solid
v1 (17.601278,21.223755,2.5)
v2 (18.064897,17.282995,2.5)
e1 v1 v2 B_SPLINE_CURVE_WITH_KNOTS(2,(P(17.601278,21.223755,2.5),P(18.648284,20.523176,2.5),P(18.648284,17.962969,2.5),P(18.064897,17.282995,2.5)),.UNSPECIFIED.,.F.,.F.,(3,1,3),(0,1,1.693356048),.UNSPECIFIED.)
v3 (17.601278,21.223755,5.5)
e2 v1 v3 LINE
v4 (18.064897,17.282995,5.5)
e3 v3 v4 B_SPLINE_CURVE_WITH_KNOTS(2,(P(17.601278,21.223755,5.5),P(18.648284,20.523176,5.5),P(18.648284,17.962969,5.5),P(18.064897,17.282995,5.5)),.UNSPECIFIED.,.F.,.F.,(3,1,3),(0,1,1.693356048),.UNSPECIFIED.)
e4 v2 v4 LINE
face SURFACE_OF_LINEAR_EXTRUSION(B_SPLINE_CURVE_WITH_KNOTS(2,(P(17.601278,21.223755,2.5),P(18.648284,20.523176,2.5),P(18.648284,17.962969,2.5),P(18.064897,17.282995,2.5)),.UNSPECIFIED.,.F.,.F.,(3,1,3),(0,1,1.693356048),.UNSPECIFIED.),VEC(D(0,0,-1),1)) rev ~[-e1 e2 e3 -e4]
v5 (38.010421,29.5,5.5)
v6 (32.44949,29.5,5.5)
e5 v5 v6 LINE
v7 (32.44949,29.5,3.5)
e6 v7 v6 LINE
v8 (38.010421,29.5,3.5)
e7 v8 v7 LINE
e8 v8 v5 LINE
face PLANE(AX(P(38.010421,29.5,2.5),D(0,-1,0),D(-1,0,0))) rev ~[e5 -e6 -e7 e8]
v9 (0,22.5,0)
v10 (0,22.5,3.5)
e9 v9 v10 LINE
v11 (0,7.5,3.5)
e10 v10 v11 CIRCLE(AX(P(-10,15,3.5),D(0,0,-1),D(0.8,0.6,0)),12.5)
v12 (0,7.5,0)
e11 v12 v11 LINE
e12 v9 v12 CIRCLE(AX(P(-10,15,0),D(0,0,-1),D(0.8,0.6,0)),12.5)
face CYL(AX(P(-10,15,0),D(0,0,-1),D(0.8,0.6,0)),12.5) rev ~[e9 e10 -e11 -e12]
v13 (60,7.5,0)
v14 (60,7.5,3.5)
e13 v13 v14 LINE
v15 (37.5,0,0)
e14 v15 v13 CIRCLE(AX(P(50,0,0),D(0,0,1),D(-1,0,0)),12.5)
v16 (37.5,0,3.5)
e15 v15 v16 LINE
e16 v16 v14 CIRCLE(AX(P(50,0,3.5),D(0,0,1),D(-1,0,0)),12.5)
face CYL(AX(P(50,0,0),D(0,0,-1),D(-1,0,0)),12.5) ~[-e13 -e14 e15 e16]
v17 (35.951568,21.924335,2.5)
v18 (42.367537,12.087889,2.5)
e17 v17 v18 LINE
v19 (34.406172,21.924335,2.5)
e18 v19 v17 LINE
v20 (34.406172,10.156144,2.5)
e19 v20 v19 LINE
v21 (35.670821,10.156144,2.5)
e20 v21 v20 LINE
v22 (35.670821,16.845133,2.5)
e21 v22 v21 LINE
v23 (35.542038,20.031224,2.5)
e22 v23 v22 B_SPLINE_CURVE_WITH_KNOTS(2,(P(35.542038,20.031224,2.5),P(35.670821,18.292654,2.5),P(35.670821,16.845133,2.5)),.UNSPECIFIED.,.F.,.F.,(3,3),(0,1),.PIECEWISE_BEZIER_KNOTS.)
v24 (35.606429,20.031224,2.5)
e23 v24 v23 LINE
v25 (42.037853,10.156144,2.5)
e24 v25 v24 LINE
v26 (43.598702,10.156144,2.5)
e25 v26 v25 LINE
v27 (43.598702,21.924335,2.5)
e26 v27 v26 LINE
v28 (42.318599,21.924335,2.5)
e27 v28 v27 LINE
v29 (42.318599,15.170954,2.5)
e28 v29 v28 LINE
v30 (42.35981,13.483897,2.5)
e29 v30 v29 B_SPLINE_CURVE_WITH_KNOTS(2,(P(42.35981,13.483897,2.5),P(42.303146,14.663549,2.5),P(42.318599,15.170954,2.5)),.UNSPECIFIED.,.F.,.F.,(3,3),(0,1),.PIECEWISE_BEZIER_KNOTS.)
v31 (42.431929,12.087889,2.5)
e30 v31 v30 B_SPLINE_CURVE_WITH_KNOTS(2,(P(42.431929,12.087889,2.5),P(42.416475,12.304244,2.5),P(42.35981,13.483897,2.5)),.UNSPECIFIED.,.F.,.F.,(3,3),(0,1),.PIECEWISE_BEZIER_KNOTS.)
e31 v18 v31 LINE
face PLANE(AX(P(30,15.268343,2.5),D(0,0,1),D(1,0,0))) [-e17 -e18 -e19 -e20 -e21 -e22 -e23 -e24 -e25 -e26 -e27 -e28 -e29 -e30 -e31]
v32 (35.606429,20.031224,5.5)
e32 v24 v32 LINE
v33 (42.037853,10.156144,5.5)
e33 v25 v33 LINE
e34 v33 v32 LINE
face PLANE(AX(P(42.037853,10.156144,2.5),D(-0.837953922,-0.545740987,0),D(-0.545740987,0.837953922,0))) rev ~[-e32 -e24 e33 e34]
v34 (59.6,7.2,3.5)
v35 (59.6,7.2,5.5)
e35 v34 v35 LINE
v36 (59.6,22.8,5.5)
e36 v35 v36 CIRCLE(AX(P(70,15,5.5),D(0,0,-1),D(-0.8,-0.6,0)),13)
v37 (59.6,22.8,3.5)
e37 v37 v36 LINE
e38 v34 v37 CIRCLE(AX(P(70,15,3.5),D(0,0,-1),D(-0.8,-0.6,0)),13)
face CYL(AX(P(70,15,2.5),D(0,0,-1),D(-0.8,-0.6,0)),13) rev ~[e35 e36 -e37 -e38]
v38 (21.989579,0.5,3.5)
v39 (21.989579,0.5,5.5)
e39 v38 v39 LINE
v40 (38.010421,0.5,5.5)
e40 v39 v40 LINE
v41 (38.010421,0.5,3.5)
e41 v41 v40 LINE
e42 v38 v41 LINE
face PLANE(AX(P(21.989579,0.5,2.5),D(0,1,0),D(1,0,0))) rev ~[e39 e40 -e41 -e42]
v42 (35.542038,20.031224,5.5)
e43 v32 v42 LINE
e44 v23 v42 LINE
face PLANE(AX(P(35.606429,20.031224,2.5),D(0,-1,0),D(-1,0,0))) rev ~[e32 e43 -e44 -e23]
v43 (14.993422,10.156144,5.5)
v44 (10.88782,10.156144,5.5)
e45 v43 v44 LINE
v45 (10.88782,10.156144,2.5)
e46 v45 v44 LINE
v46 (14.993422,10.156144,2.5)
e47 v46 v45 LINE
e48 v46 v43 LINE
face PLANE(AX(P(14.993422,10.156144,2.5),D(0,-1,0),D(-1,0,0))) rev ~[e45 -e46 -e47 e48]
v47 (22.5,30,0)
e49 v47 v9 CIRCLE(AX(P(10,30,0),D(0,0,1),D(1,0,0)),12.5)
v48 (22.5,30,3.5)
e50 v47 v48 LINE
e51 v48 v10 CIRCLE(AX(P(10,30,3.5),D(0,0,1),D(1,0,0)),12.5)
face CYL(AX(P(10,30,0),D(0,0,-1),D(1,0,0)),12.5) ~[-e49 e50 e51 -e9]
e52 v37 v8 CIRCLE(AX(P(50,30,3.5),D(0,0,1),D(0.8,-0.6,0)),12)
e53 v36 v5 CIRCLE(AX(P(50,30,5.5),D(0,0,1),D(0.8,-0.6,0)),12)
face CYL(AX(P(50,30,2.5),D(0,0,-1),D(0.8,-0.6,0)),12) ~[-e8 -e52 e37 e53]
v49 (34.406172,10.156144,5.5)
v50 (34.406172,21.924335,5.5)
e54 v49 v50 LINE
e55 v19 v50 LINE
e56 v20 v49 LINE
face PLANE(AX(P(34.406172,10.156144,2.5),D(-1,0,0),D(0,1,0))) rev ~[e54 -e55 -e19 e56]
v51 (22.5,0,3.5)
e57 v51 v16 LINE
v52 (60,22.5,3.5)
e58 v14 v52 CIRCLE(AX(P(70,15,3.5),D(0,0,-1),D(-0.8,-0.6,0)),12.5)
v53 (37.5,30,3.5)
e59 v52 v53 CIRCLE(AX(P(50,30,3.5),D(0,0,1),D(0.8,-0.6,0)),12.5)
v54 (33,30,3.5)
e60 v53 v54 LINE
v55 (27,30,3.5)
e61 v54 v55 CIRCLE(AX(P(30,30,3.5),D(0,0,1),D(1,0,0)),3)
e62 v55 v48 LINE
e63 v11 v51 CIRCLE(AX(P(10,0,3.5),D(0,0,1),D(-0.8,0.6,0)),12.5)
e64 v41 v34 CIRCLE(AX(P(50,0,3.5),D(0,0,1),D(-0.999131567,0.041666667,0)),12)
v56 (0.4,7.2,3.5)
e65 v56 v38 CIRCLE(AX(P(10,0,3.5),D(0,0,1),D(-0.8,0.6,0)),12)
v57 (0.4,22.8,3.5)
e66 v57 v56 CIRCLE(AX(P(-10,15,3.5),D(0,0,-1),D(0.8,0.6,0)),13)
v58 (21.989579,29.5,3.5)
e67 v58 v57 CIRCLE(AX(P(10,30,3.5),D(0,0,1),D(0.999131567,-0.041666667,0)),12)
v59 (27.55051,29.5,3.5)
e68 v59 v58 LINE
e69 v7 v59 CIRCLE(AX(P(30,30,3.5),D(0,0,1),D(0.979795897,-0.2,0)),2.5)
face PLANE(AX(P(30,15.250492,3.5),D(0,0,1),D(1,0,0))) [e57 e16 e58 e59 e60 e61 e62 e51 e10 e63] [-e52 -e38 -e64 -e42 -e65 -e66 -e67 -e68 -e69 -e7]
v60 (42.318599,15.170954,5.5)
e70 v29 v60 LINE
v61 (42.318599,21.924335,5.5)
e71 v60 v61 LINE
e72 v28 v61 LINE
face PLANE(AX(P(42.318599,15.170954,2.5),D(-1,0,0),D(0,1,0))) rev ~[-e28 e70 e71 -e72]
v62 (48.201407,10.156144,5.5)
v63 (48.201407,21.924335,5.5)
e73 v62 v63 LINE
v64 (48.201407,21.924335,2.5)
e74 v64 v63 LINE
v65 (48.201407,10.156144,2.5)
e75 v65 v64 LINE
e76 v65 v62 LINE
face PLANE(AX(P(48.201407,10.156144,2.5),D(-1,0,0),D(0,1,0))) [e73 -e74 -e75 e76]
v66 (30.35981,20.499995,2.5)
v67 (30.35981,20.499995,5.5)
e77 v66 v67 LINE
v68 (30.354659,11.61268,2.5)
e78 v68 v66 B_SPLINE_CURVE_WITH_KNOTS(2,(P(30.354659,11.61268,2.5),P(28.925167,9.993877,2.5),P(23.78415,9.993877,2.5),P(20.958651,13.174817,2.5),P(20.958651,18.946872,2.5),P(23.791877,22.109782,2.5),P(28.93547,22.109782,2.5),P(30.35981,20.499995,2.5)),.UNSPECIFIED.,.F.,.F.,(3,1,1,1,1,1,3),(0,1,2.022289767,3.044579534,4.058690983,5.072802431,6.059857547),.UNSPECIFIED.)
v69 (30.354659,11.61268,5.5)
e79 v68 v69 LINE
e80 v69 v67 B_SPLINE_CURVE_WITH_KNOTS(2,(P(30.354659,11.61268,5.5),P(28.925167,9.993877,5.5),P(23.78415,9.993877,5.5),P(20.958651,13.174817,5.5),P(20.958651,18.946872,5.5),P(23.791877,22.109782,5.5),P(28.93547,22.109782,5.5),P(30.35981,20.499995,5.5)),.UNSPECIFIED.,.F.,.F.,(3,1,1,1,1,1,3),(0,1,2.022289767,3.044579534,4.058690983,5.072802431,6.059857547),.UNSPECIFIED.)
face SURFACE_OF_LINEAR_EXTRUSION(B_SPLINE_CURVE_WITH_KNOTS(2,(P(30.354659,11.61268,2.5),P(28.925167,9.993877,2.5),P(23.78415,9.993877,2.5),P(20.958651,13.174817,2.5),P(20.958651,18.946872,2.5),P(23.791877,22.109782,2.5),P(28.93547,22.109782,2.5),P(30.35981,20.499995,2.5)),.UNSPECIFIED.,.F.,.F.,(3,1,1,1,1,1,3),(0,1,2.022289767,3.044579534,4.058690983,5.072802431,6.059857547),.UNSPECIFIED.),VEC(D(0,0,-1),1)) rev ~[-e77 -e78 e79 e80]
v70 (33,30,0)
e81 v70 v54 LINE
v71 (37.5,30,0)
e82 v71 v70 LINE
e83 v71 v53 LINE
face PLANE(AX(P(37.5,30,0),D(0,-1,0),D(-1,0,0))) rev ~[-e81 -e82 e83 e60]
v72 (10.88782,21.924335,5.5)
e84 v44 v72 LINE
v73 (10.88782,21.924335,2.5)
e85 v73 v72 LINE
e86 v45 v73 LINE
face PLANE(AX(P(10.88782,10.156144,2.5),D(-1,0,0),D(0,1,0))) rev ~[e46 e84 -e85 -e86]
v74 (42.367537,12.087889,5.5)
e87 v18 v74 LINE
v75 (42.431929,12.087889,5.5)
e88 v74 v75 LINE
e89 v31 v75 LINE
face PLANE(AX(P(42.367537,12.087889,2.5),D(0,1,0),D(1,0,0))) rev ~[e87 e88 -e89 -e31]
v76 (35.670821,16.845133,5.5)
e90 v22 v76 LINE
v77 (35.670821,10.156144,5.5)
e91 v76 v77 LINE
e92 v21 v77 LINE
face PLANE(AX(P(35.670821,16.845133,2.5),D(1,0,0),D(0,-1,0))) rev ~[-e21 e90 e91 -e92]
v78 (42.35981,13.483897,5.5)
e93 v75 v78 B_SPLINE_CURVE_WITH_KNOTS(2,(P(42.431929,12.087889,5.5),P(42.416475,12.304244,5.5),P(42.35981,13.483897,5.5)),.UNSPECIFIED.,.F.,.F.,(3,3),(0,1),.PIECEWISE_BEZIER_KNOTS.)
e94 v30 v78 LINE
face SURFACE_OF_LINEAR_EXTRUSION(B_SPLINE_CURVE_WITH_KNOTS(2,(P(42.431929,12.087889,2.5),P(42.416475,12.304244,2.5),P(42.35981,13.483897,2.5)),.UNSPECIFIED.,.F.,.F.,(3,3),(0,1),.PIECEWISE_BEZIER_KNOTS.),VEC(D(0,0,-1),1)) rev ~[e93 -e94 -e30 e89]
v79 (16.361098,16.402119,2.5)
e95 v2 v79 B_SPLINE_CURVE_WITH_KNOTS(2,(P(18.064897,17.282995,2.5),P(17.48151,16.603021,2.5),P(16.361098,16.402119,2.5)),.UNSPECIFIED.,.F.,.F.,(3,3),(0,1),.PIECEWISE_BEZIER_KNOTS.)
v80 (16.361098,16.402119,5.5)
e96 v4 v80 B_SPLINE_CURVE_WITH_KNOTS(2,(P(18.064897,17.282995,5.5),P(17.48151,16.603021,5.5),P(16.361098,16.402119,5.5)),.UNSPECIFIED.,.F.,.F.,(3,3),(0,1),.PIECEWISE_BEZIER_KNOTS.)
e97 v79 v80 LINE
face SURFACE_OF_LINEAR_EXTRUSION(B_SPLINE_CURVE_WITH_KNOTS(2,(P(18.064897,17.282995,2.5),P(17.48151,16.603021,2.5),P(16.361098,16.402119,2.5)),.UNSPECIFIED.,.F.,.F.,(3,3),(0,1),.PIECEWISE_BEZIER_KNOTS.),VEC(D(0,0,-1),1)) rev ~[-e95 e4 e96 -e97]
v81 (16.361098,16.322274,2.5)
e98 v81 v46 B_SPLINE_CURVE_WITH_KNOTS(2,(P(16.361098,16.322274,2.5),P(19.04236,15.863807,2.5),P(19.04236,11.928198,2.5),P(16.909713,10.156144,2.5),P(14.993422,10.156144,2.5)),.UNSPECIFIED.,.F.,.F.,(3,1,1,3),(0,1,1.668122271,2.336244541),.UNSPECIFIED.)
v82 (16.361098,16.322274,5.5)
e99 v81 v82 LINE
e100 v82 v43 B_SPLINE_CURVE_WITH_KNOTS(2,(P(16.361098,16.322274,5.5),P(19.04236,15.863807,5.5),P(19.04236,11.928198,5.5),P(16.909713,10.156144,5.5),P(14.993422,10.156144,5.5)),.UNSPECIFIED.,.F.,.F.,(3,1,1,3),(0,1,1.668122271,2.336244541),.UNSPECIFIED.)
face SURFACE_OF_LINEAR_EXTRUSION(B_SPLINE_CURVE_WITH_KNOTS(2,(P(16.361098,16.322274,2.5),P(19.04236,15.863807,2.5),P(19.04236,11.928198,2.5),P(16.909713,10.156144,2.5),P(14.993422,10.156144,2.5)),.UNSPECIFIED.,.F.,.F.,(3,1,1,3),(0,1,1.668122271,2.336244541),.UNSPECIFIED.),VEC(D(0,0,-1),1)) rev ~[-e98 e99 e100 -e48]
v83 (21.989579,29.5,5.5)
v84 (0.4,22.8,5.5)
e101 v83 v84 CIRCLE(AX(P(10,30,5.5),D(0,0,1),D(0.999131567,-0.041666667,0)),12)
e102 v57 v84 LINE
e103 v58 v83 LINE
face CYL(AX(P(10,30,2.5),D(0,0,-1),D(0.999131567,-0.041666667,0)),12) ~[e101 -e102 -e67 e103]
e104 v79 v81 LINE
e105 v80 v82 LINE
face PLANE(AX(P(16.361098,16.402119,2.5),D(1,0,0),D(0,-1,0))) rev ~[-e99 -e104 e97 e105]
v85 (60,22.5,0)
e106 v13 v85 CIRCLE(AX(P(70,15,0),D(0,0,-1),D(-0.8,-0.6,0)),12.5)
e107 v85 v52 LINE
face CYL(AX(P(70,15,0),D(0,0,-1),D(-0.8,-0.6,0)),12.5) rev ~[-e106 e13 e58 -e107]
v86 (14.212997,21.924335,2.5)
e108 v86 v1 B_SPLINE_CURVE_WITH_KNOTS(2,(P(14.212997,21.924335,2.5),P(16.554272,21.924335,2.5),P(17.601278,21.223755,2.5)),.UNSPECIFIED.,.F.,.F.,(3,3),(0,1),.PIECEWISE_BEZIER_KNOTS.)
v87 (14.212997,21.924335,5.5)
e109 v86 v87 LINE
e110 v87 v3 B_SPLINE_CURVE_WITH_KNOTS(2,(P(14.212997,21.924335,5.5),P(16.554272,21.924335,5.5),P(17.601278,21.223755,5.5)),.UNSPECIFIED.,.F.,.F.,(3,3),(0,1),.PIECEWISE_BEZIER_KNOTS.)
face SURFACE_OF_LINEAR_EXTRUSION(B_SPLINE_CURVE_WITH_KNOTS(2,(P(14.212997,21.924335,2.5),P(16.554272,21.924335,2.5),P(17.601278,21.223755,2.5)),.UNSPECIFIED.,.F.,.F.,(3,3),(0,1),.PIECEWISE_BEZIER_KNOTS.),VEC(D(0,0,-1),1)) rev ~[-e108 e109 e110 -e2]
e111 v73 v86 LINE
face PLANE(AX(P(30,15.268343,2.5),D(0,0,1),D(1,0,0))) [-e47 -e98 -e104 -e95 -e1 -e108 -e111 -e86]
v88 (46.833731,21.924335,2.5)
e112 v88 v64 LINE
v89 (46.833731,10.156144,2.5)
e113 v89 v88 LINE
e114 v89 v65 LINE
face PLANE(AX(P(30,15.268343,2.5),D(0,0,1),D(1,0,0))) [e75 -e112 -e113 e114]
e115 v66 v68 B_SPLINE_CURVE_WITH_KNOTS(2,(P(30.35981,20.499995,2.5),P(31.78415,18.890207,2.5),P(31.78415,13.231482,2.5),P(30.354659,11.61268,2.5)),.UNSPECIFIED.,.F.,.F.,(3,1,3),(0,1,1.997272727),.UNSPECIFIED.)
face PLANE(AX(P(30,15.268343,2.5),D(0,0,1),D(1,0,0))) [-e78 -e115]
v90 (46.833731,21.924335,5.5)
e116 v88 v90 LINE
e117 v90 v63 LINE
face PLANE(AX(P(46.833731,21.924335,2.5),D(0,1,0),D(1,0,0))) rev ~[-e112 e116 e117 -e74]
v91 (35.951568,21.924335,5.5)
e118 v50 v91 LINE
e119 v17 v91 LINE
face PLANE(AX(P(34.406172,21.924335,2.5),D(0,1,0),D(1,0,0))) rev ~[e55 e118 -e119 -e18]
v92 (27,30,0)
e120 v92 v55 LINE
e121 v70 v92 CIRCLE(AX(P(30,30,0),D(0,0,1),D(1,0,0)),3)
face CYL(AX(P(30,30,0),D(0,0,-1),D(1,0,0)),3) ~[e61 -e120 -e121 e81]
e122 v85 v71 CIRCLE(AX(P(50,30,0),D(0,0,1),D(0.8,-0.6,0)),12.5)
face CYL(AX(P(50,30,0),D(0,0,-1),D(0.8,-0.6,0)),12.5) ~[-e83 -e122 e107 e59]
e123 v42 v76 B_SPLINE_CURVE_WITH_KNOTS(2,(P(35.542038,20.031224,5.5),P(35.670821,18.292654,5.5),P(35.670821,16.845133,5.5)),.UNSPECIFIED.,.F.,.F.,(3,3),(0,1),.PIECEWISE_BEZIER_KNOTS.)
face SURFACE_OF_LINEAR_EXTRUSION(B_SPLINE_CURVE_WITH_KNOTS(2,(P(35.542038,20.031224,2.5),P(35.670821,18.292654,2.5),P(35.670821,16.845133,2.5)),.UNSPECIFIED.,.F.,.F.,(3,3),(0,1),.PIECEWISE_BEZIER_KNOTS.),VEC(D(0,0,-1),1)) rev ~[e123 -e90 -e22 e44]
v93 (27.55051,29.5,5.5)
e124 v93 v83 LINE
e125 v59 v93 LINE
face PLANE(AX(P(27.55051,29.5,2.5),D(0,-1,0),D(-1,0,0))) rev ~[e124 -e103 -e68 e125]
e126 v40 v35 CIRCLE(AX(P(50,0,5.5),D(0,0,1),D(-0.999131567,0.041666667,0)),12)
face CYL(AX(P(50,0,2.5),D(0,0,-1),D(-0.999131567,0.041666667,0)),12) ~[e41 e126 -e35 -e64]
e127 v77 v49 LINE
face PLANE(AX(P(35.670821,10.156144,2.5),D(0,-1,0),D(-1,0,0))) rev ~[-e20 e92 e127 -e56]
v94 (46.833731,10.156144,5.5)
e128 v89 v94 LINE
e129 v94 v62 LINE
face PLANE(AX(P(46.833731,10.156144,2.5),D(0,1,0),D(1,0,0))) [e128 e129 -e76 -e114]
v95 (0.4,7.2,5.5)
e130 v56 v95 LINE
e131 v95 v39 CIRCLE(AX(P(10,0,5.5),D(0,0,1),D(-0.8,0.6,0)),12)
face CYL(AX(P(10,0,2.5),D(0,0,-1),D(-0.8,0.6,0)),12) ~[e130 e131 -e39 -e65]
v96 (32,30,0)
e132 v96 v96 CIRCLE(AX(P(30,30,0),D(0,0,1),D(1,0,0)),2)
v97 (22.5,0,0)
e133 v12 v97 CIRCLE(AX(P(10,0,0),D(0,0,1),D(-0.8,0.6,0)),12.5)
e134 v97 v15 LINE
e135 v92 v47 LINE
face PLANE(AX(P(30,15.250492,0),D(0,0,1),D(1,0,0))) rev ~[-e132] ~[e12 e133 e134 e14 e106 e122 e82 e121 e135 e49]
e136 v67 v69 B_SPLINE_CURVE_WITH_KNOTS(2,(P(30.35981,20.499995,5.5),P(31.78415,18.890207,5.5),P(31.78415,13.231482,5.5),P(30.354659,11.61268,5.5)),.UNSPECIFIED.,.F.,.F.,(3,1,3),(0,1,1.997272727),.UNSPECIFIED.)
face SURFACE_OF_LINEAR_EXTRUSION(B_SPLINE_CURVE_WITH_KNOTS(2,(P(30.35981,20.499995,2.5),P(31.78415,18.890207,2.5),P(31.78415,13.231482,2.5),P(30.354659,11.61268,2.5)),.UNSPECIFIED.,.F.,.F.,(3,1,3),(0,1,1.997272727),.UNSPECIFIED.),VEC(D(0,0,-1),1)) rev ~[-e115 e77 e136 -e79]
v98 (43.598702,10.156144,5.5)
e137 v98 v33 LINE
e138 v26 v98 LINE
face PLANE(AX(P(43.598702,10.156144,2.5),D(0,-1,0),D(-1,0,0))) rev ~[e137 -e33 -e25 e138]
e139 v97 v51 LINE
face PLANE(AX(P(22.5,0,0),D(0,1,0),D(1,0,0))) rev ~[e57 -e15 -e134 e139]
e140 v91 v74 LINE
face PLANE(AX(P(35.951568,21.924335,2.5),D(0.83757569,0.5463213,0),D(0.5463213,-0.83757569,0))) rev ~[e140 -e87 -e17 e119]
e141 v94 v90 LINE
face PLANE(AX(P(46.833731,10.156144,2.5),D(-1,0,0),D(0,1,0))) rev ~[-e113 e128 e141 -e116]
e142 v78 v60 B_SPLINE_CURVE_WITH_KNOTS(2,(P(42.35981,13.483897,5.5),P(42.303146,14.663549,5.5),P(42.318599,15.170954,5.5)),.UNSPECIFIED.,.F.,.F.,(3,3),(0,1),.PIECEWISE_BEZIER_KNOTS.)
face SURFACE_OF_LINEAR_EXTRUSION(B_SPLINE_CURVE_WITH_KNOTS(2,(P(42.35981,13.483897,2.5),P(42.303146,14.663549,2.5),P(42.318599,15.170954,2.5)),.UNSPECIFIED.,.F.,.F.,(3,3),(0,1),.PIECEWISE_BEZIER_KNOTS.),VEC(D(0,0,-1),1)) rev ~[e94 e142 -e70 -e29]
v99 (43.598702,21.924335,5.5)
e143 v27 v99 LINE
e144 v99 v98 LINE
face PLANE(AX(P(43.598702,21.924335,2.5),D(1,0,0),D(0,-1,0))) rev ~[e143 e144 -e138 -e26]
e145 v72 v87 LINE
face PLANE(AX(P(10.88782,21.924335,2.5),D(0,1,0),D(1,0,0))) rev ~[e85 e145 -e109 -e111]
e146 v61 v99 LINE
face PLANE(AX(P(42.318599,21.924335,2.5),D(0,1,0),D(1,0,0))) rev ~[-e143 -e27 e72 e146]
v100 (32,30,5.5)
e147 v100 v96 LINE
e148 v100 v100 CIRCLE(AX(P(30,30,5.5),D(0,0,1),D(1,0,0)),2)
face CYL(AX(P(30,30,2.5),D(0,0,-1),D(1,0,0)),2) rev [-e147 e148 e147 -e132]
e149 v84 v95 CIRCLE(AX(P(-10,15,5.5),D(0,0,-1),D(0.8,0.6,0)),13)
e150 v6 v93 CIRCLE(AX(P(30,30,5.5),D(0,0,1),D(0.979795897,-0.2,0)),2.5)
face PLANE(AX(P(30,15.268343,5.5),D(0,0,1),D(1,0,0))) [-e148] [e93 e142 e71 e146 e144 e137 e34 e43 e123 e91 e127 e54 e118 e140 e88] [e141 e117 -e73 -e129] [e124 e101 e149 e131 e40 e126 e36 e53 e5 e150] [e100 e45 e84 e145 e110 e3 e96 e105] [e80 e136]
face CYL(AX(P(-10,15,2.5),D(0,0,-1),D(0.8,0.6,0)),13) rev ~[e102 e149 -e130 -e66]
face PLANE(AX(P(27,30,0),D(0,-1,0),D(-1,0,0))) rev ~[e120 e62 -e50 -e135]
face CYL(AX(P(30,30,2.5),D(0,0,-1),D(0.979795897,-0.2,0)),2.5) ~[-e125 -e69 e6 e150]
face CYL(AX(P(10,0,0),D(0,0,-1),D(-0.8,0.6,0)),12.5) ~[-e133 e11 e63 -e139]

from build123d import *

# Parameters (mm, degrees)
F0_R     = 2
F1_DEPTH = 3.5
F2_R     = 2
F3_DEPTH = 1
F4_W     = 1.3676754668
F4_H     = 11.7681905988
F4_R     = 2
F5_DEPTH = 3


with BuildPart() as f1:
    # F0 (on Top) → F1 (new body)
    with BuildSketch(Plane.XY):
        with BuildLine():
            Line((27, 30), (22.5, 30))
            ThreePointArc((22.5, 30), (6.0471529248, 41.8585412256), (0, 22.5))
            ThreePointArc((0, 22.5), (2.5, 15), (0, 7.5))
            ThreePointArc((0, 7.5), (6.0471529248, -11.8585412256), (22.5, 0))
            Line((22.5, 0), (37.5, 0))
            ThreePointArc((37.5, 0), (53.9528470752, -11.8585412256), (60, 7.5))
            ThreePointArc((60, 7.5), (57.5, 15), (60, 22.5))
            ThreePointArc((60, 22.5), (53.9528470752, 41.8585412256), (37.5, 30))
            Line((37.5, 30), (33, 30))
            ThreePointArc((33, 30), (30, 33), (27, 30))
        make_face()
        with Locations((30, 30)):
            Circle(F0_R, mode=Mode.SUBTRACT)
    extrude(amount=F1_DEPTH)

    # F2 (on face) → F3 (cut)
    with BuildSketch(Plane.XY.offset(3.5)):
        with BuildLine():
            Line((21.9895788083, 0.5), (38.0104211917, 0.5))
            ThreePointArc((38.0104211917, 0.5), (53.5566869022, -11.4608018166), (59.6, 7.2))
            ThreePointArc((59.6, 7.2), (57, 15), (59.6, 22.8))
            ThreePointArc((59.6, 22.8), (53.5566869022, 41.4608018166), (38.0104211917, 29.5))
            Line((38.0104211917, 29.5), (32.4494897428, 29.5))
            ThreePointArc((32.4494897428, 29.5), (30, 32.5), (27.5505102572, 29.5))
            Line((27.5505102572, 29.5), (21.9895788083, 29.5))
            ThreePointArc((21.9895788083, 29.5), (6.4433130978, 41.4608018166), (0.4, 22.8))
            ThreePointArc((0.4, 22.8), (3, 15), (0.4, 7.2))
            ThreePointArc((0.4, 7.2), (6.4433130978, -11.4608018166), (21.9895788083, 0.5))
        make_face()
        with Locations((30, 30)):
            Circle(F2_R, mode=Mode.SUBTRACT)
    extrude(amount=-F3_DEPTH, mode=Mode.SUBTRACT)

    # F4 (on face) → F5 (join)
    with BuildSketch(Plane.XY.offset(2.5)):
        with BuildLine():
            ThreePointArc((0.4, 7.2), (6.4433130978, -11.4608018166), (21.9895788083, 0.5))
            Line((21.9895788083, 0.5), (38.0104211917, 0.5))
            ThreePointArc((38.0104211917, 0.5), (53.5566869022, -11.4608018166), (59.6, 7.2))
            ThreePointArc((59.6, 7.2), (57, 15), (59.6, 22.8))
            ThreePointArc((59.6, 22.8), (53.5566869022, 41.4608018166), (38.0104211917, 29.5))
            Line((38.0104211917, 29.5), (32.4494897428, 29.5))
            ThreePointArc((32.4494897428, 29.5), (30, 32.5), (27.5505102572, 29.5))
            Line((27.5505102572, 29.5), (21.9895788083, 29.5))
            ThreePointArc((21.9895788083, 29.5), (6.4433130978, 41.4608018166), (0.4, 22.8))
            ThreePointArc((0.4, 22.8), (3, 15), (0.4, 7.2))
        make_face()
        with BuildLine():
            Line((10.8878203307, 10.1561439622), (10.8878203307, 21.924334561))
            Line((10.8878203307, 21.924334561), (14.2129974073, 21.924334561))
            add(Edge.make_bspline(
                [(14.2129974073, 21.924334561), (16.554272359, 21.924334561), (17.6012781542, 21.2237550375)],
                knots=[0, 0, 0, 1, 1, 1], degree=2))
            add(Edge.make_bspline(
                [(17.6012781542, 21.2237550375), (18.6482839495, 20.523175514), (18.6482839495, 19.0112630864)],
                knots=[0, 0, 0, 1, 1, 1], degree=2))
            add(Edge.make_bspline(
                [(18.6482839495, 19.0112630864), (18.6482839495, 17.9629694612), (18.0648969566, 17.2829952178)],
                knots=[0, 0, 0, 1, 1, 1], degree=2))
            add(Edge.make_bspline(
                [(18.0648969566, 17.2829952178), (17.4815099636, 16.6030209744), (16.361097858, 16.4021194934)],
                knots=[0, 0, 0, 1, 1, 1], degree=2))
            Line((16.361097858, 16.4021194934), (16.361097858, 16.322274033))
            add(Edge.make_bspline(
                [(16.361097858, 16.322274033), (19.0423599314, 15.8638065507), (19.0423599314, 13.5045019789)],
                knots=[0, 0, 0, 1, 1, 1], degree=2))
            add(Edge.make_bspline(
                [(19.0423599314, 13.5045019789), (19.0423599314, 11.928198051), (17.9760366861, 11.0421710066)],
                knots=[0, 0, 0, 1, 1, 1], degree=2))
            add(Edge.make_bspline(
                [(17.9760366861, 11.0421710066), (16.9097134408, 10.1561439622), (14.9934223912, 10.1561439622)],
                knots=[0, 0, 0, 1, 1, 1], degree=2))
            Line((14.9934223912, 10.1561439622), (10.8878203307, 10.1561439622))
        make_face(mode=Mode.SUBTRACT)
        with BuildLine():
            add(Edge.make_bspline(
                [(30.359810028, 20.4999945739), (31.7841500152, 18.8902070658), (31.7841500152, 16.0569810517)],
                knots=[0, 0, 0, 1, 1, 1], degree=2))
            add(Edge.make_bspline(
                [(31.7841500152, 16.0569810517), (31.7841500152, 13.2314820175), (30.354658708, 11.6126796994)],
                knots=[0, 0, 0, 1, 1, 1], degree=2))
            add(Edge.make_bspline(
                [(30.354658708, 11.6126796994), (28.9251674009, 9.9938773813), (26.3829909681, 9.9938773813)],
                knots=[0, 0, 0, 1, 1, 1], degree=2))
            add(Edge.make_bspline(
                [(26.3829909681, 9.9938773813), (23.7841500152, 9.9938773813), (22.3714004981, 11.5843474393)],
                knots=[0, 0, 0, 1, 1, 1], degree=2))
            add(Edge.make_bspline(
                [(22.3714004981, 11.5843474393), (20.958650981, 13.1748174973), (20.958650981, 16.0724350117)],
                knots=[0, 0, 0, 1, 1, 1], degree=2))
            add(Edge.make_bspline(
                [(20.958650981, 16.0724350117), (20.958650981, 18.9468715861), (22.3752639881, 20.528326834)],
                knots=[0, 0, 0, 1, 1, 1], degree=2))
            add(Edge.make_bspline(
                [(22.3752639881, 20.528326834), (23.7918769952, 22.1097820819), (26.3984449282, 22.1097820819)],
                knots=[0, 0, 0, 1, 1, 1], degree=2))
            add(Edge.make_bspline(
                [(26.3984449282, 22.1097820819), (28.9354700409, 22.1097820819), (30.359810028, 20.4999945739)],
                knots=[0, 0, 0, 1, 1, 1], degree=2))
        make_face(mode=Mode.SUBTRACT)
        with BuildLine():
            Line((43.5987024942, 21.924334561), (43.5987024942, 10.1561439622))
            Line((43.5987024942, 10.1561439622), (42.0378525264, 10.1561439622))
            Line((42.0378525264, 10.1561439622), (35.6064294743, 20.0312244515))
            Line((35.6064294743, 20.0312244515), (35.5420379739, 20.0312244515))
            add(Edge.make_bspline(
                [(35.5420379739, 20.0312244515), (35.6708209746, 18.2926539428), (35.6708209746, 16.8451330156)],
                knots=[0, 0, 0, 1, 1, 1], degree=2))
            Line((35.6708209746, 16.8451330156), (35.6708209746, 10.1561439622))
            Line((35.6708209746, 10.1561439622), (34.4061719083, 10.1561439622))
            Line((34.4061719083, 10.1561439622), (34.4061719083, 21.924334561))
            Line((34.4061719083, 21.924334561), (35.951567916, 21.924334561))
            Line((35.951567916, 21.924334561), (42.3675370081, 12.0878889718))
            Line((42.3675370081, 12.0878889718), (42.4319285084, 12.0878889718))
            add(Edge.make_bspline(
                [(42.4319285084, 12.0878889718), (42.4164745483, 12.3042444129), (42.359810028, 13.4838966988)],
                knots=[0, 0, 0, 1, 1, 1], degree=2))
            add(Edge.make_bspline(
                [(42.359810028, 13.4838966988), (42.3031455078, 14.6635489847), (42.3185994678, 15.1709540072)],
                knots=[0, 0, 0, 1, 1, 1], degree=2))
            Line((42.3185994678, 15.1709540072), (42.3185994678, 21.924334561))
            Line((42.3185994678, 21.924334561), (43.5987024942, 21.924334561))
        make_face(mode=Mode.SUBTRACT)
        with Locations((47.5175692038, 16.0402392616)):
            Rectangle(F4_W, F4_H, mode=Mode.SUBTRACT)
        with Locations((30, 30)):
            Circle(F4_R, mode=Mode.SUBTRACT)
    extrude(amount=F5_DEPTH)


solid = f1.part
